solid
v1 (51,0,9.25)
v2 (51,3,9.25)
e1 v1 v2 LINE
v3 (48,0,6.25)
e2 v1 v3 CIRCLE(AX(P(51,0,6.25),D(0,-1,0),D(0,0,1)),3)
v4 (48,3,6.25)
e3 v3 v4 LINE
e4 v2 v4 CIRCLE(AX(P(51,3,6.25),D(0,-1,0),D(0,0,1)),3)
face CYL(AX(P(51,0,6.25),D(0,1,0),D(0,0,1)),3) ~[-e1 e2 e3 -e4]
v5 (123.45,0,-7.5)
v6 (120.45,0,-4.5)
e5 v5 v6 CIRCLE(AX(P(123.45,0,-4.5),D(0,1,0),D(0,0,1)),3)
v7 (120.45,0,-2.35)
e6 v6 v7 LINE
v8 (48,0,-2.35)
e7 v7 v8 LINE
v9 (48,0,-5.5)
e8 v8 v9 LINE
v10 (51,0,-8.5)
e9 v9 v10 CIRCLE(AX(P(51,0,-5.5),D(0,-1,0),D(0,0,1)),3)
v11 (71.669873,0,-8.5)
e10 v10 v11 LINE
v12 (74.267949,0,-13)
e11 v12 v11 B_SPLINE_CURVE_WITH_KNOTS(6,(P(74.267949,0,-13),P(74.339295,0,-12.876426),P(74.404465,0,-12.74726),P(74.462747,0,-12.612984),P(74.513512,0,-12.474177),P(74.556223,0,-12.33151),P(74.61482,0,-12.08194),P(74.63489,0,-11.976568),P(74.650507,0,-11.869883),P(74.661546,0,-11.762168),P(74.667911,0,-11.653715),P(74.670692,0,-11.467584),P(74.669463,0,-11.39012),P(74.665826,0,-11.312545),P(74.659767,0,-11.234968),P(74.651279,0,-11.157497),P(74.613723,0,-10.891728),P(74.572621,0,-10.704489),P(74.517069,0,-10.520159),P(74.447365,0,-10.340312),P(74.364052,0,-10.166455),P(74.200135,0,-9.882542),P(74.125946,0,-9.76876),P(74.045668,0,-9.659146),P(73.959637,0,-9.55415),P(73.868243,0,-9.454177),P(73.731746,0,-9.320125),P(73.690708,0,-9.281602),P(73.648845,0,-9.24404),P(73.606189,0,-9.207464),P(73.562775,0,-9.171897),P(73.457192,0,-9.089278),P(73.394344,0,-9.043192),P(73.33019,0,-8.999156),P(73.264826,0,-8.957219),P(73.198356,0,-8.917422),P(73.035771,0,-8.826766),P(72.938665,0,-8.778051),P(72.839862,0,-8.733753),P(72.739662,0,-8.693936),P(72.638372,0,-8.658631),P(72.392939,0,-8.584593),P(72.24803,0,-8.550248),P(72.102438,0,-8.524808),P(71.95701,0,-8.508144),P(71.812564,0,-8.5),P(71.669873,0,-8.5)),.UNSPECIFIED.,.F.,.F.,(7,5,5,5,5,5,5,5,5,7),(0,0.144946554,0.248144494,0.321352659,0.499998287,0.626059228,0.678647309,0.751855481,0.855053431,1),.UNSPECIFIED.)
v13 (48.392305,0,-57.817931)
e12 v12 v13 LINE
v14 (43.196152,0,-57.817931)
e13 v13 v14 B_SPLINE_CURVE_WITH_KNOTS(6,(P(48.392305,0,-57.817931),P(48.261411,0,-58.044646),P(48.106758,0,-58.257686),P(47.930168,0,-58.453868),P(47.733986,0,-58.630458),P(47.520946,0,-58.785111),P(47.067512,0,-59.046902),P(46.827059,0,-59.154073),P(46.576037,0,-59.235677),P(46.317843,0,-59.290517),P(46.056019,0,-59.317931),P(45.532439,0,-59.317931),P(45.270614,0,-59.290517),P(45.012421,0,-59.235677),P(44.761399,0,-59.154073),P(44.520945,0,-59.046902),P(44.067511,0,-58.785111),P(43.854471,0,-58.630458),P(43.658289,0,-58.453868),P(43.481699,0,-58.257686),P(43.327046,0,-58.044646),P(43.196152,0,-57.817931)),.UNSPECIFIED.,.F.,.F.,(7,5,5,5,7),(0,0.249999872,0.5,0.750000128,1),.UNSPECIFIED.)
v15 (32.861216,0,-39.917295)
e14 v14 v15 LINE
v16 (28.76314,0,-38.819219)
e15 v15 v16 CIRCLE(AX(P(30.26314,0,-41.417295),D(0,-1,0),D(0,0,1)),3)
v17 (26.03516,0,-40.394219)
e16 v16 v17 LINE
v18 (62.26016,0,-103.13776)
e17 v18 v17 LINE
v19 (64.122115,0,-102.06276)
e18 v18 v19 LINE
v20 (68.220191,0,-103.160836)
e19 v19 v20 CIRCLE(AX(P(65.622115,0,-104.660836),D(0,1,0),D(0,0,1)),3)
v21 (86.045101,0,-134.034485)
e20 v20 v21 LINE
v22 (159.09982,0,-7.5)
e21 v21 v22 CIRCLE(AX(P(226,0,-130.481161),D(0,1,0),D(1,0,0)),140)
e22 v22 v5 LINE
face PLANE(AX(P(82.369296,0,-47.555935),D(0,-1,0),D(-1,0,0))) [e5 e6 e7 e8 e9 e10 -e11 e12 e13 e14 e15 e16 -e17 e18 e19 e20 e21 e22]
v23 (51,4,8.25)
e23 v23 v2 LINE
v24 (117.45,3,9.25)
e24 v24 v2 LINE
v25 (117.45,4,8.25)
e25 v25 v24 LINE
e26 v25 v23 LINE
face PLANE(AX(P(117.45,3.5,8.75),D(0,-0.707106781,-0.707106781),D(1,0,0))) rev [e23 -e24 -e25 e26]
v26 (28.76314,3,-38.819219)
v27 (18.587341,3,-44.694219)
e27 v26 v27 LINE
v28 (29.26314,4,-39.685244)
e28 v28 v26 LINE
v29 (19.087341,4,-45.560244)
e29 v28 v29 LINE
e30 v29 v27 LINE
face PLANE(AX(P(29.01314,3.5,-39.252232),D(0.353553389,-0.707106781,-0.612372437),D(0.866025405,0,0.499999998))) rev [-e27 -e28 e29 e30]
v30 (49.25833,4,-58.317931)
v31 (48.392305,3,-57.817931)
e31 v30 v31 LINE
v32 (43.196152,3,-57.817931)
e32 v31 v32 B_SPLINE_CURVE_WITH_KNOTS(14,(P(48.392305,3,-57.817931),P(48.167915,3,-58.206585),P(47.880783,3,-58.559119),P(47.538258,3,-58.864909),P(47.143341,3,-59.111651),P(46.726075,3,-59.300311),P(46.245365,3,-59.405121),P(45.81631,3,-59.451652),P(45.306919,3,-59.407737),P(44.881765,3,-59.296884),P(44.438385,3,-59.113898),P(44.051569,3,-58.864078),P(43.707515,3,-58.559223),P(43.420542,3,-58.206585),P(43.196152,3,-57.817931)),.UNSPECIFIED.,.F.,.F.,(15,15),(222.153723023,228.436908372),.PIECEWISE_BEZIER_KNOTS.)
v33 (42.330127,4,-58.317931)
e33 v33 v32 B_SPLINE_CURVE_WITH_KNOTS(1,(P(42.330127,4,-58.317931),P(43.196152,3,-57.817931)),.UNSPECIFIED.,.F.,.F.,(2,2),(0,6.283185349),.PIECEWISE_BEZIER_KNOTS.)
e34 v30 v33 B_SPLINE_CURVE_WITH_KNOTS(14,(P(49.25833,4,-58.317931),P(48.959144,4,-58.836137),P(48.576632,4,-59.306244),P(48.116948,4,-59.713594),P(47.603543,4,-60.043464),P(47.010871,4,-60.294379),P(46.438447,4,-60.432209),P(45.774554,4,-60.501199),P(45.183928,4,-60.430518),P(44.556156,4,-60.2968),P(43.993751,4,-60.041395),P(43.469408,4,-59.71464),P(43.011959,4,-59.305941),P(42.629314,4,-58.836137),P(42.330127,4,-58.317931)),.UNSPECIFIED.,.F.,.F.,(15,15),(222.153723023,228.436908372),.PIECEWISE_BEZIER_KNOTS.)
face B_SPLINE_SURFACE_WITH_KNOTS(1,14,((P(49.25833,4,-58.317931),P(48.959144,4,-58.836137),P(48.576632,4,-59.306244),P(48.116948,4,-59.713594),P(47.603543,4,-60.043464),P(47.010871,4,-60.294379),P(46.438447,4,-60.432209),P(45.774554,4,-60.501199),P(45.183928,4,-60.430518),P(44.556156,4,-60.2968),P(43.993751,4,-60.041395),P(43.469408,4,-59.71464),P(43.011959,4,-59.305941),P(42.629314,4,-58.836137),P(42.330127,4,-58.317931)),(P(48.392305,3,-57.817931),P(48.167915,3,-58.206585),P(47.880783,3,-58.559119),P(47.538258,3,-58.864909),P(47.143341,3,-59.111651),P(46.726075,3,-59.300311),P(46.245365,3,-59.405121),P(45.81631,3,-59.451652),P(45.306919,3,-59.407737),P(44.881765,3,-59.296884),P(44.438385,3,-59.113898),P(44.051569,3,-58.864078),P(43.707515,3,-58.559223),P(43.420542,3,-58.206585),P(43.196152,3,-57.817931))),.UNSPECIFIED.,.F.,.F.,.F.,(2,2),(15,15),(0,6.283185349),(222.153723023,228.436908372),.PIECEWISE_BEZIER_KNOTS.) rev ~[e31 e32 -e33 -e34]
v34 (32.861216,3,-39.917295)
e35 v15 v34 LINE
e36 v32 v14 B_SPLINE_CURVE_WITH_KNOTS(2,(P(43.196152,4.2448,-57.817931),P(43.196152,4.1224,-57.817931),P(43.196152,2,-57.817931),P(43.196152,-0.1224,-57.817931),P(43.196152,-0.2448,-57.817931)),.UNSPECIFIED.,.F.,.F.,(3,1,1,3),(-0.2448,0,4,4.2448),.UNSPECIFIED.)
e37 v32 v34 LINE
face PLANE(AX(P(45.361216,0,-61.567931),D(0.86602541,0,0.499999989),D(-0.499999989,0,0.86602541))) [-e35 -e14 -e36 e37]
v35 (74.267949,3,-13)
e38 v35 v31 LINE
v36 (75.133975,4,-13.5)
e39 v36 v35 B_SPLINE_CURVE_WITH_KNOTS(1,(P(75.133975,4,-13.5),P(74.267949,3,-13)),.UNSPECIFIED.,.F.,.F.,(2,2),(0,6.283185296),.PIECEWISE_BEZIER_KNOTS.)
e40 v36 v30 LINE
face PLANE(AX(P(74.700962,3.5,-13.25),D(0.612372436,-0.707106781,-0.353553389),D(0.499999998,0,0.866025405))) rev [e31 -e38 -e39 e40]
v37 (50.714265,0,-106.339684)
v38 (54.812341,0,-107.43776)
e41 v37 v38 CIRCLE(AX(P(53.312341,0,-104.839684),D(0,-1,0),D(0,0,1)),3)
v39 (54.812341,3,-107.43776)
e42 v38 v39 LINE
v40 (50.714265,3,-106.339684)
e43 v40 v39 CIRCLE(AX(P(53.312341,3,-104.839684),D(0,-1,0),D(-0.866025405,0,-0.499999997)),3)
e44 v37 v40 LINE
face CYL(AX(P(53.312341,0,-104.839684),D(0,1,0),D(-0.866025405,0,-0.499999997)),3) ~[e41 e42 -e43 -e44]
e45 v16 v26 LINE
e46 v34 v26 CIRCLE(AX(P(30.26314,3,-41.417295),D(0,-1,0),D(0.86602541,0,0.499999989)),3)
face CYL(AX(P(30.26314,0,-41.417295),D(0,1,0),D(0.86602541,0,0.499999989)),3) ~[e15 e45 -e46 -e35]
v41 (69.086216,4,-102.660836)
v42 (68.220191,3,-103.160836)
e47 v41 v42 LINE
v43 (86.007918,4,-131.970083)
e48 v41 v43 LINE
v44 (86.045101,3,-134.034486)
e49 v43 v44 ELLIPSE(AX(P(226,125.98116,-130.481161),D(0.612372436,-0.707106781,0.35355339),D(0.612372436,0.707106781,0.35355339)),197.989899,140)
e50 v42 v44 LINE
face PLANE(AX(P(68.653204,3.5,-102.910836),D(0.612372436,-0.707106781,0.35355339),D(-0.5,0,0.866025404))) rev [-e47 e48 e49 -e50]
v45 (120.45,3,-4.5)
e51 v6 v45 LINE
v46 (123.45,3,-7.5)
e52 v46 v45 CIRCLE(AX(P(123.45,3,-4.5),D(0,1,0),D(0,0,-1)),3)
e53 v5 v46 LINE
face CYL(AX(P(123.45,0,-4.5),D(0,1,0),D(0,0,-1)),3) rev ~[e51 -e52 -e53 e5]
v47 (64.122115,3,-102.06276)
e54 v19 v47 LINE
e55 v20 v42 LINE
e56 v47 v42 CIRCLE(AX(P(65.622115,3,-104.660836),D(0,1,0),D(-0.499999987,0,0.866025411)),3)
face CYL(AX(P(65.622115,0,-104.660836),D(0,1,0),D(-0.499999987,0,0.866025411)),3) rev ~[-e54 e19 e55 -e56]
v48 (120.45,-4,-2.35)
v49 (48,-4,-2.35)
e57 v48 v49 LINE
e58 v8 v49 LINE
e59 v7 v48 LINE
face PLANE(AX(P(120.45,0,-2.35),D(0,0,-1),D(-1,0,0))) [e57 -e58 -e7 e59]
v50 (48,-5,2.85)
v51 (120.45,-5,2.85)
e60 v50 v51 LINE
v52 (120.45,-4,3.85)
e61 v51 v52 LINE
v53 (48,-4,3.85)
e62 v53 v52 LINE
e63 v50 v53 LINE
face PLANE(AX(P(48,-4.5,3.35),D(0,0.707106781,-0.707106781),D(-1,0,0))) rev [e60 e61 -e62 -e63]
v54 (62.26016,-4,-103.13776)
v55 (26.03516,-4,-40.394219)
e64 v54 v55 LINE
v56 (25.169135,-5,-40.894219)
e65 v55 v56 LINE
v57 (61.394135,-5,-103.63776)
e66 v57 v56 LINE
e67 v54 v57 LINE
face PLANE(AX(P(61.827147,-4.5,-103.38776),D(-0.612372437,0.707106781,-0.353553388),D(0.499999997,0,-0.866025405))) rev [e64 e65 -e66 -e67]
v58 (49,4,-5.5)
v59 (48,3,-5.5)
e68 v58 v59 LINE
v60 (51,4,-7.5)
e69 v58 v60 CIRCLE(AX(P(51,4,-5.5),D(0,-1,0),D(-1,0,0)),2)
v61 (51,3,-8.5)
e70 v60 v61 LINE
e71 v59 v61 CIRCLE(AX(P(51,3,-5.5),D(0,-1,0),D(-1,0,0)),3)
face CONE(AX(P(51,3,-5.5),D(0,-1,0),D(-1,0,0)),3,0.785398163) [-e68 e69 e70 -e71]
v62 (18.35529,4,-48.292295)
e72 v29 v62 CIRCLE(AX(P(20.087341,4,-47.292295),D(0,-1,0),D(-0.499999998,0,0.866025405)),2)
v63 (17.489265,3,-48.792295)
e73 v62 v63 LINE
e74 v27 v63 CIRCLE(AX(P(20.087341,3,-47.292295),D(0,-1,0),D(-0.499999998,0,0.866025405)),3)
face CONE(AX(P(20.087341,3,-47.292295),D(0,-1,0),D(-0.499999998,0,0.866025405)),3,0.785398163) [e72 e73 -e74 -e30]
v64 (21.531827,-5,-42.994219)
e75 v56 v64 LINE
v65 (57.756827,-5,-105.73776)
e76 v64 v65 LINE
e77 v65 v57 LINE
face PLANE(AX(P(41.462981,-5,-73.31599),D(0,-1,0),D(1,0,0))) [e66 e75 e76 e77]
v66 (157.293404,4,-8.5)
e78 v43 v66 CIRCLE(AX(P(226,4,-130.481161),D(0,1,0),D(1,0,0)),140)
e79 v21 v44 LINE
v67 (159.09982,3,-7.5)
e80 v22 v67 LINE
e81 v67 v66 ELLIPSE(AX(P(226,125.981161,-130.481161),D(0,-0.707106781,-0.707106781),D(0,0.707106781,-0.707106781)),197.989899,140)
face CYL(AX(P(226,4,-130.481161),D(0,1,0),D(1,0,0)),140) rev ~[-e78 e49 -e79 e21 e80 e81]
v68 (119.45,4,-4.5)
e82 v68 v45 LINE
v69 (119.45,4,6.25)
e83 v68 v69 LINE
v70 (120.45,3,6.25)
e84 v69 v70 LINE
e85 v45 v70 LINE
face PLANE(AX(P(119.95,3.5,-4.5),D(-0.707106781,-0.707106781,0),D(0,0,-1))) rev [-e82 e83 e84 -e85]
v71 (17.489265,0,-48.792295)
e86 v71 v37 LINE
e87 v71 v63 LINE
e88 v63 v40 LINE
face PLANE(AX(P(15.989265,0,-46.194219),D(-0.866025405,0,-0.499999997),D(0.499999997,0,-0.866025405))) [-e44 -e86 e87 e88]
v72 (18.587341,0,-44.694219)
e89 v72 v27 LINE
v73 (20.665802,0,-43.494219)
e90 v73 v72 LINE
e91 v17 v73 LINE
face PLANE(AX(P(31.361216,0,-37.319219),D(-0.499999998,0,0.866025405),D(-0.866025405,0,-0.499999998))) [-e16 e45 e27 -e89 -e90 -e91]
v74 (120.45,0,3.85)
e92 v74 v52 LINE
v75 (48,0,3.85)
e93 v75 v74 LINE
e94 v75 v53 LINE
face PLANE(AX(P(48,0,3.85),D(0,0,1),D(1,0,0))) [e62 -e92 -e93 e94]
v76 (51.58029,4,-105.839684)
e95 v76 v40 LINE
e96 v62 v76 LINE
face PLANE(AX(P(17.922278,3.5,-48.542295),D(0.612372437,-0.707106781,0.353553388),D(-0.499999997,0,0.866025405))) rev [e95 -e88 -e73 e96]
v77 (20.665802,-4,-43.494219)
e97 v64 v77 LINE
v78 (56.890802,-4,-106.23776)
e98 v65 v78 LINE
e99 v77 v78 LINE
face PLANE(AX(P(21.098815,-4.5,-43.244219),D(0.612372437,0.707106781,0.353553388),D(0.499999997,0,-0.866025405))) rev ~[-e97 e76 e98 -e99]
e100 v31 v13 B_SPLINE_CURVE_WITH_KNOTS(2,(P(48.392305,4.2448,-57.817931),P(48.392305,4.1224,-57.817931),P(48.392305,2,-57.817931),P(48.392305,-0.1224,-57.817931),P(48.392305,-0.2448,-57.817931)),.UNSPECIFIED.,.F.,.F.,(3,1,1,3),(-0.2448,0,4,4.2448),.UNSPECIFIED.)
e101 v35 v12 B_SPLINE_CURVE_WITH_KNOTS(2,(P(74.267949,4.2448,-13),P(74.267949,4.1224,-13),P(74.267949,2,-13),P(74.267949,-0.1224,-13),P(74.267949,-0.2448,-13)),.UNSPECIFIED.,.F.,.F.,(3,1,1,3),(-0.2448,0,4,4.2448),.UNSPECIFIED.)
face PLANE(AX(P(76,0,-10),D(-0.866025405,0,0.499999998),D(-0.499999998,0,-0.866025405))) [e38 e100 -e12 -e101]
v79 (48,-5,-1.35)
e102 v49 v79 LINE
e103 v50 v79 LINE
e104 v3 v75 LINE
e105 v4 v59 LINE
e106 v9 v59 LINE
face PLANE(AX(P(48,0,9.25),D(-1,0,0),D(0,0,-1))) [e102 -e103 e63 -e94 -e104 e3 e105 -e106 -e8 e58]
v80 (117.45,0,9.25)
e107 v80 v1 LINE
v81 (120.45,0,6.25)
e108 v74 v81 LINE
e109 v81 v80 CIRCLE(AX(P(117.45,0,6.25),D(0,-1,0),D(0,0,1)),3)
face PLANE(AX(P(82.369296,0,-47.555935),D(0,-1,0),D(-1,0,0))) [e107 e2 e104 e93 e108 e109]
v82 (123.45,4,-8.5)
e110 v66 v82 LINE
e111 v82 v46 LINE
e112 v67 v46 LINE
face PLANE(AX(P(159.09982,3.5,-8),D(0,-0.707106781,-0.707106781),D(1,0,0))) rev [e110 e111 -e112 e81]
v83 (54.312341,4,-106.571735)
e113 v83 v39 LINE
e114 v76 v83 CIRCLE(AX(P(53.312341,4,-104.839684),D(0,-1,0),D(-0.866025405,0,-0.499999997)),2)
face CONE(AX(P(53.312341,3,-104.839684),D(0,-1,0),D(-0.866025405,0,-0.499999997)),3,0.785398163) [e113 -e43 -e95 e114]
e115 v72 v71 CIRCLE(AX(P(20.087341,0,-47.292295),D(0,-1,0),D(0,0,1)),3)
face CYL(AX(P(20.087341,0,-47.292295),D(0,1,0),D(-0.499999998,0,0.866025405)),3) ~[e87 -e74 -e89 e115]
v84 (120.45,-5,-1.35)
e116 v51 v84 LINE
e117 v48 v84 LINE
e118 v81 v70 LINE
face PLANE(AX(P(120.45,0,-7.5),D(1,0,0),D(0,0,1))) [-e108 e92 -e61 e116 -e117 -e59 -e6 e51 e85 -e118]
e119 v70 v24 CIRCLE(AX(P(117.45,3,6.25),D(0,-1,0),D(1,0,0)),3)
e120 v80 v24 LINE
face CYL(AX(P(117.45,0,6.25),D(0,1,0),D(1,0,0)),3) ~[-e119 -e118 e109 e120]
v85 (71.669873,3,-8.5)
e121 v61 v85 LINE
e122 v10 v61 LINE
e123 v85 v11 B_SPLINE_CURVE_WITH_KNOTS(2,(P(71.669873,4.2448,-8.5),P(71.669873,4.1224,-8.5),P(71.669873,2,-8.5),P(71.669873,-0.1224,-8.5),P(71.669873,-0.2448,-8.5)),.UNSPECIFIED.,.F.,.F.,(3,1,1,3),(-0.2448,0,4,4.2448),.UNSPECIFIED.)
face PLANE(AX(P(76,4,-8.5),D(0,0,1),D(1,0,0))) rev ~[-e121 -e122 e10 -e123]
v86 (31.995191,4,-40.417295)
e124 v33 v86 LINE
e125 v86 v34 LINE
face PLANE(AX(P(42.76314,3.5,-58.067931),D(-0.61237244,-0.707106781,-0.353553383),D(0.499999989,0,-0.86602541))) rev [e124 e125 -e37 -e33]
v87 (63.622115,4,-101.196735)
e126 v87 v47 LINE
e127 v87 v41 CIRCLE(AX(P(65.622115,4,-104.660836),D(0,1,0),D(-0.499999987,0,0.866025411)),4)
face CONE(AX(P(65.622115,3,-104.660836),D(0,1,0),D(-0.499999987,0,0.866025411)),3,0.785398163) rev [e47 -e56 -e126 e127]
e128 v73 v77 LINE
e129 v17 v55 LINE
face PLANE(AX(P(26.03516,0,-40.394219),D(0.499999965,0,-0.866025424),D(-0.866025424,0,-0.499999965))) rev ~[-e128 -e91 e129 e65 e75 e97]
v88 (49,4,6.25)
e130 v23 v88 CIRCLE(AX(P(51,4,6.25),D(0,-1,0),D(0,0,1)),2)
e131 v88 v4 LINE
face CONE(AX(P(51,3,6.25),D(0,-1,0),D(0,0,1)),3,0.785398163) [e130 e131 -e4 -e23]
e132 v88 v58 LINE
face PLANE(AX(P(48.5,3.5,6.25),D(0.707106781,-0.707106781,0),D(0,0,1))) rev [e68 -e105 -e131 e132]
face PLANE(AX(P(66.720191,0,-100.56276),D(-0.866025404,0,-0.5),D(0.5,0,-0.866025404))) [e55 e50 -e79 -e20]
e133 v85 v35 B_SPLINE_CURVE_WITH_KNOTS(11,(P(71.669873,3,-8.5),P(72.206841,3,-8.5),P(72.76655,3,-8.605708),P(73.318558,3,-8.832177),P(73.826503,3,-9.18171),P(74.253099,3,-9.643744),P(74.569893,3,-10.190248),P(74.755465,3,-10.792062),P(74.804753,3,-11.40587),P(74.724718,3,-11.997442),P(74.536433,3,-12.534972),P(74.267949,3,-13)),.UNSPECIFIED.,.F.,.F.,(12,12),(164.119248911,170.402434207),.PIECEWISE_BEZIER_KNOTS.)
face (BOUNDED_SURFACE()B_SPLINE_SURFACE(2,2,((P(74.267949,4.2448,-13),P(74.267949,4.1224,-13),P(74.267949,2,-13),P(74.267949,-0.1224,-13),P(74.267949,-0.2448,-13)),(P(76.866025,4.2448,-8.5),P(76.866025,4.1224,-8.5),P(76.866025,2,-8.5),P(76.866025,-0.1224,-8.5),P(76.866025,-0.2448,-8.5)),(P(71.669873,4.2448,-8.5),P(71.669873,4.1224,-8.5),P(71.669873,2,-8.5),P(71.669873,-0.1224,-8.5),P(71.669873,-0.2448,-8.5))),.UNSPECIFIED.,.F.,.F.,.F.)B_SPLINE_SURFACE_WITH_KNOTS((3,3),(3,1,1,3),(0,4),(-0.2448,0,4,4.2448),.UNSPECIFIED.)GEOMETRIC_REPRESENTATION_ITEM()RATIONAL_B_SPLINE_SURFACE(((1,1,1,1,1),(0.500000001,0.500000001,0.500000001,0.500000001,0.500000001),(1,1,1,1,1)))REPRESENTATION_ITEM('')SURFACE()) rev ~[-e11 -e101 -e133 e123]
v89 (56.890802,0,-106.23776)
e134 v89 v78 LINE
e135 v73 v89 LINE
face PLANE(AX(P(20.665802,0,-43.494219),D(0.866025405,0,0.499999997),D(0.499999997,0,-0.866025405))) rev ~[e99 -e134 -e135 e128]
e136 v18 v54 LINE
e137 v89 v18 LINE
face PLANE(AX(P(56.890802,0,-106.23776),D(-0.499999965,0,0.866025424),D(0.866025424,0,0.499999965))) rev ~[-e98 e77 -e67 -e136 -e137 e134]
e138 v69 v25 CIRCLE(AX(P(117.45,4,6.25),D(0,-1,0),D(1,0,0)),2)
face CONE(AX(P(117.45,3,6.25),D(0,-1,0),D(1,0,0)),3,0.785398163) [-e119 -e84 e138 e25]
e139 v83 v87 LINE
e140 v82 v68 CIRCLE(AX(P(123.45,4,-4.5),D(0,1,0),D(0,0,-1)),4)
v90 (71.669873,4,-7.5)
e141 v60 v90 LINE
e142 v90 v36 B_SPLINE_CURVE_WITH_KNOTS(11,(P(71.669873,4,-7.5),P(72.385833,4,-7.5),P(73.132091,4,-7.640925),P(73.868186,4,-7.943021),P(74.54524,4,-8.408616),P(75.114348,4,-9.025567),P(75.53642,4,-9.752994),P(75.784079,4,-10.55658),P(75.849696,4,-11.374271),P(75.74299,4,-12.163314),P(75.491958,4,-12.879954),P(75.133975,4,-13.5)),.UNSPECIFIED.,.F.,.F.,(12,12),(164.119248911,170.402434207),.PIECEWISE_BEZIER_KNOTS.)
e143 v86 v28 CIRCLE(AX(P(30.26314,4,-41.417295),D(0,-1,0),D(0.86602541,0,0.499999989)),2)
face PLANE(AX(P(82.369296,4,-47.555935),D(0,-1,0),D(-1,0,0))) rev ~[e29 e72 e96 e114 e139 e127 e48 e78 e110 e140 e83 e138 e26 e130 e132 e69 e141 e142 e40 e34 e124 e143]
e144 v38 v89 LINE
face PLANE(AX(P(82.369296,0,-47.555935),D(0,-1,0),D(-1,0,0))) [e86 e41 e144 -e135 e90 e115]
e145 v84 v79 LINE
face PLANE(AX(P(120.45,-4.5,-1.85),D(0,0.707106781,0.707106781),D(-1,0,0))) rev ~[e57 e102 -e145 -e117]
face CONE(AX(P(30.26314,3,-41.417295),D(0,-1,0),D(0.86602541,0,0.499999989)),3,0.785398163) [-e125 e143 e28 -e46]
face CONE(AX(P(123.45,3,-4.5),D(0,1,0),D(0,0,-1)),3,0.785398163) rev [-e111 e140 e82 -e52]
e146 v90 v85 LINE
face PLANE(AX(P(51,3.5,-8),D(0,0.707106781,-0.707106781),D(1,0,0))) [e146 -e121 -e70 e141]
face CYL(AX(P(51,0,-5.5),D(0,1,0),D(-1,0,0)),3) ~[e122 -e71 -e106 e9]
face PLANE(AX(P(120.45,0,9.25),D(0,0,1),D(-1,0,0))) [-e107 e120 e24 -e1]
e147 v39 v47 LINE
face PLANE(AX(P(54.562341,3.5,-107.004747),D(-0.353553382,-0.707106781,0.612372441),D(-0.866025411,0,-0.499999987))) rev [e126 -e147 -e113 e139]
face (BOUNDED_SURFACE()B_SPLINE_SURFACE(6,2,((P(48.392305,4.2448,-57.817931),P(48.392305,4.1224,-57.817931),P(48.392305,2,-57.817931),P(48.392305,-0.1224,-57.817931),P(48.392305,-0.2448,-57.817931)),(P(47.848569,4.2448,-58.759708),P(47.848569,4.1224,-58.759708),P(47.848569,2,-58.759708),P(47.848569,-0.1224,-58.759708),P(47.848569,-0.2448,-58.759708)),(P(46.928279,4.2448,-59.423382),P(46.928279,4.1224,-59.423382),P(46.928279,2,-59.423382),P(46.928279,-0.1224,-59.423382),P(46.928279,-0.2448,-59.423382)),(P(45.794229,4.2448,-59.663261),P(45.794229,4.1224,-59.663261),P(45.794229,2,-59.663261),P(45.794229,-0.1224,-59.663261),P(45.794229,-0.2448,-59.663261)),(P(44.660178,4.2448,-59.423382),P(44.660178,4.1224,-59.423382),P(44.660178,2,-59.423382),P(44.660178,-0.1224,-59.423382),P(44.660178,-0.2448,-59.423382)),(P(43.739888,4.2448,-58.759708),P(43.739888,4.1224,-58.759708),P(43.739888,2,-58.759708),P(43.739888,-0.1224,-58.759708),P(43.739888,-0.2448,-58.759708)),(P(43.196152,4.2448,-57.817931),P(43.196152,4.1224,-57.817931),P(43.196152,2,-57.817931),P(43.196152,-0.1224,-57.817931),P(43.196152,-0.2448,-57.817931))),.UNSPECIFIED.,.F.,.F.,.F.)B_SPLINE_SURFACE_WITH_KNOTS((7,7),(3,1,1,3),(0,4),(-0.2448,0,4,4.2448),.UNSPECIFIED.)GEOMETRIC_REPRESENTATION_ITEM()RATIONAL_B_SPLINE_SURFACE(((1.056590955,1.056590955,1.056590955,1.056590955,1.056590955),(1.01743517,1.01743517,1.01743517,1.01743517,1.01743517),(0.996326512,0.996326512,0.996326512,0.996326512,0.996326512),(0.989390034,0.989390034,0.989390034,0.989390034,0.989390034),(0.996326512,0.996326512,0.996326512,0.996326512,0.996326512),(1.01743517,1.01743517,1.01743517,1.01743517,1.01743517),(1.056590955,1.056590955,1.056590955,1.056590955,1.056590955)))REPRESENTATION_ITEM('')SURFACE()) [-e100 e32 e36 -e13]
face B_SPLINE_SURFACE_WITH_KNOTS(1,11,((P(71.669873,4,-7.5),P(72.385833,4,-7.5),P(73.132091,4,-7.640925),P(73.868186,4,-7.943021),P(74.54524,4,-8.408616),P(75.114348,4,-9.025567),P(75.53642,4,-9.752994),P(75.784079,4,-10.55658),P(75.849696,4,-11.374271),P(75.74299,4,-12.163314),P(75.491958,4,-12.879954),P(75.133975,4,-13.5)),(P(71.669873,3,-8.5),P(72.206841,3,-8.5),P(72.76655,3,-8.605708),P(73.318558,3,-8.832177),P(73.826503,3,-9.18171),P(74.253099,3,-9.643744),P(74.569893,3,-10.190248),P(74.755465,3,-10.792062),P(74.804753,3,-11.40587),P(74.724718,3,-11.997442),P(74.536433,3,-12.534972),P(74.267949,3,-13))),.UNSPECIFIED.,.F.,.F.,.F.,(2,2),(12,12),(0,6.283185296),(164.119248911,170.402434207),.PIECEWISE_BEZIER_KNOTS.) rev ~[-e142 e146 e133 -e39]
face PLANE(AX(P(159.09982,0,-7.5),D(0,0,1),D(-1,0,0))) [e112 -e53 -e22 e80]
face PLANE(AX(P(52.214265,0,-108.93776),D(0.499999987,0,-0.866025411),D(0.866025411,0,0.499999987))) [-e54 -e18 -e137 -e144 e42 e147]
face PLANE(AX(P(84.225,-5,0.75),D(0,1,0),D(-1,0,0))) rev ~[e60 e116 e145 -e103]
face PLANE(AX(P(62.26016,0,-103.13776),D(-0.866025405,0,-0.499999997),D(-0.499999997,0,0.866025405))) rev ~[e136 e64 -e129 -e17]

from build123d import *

# Parameters (mm, degrees)
BOSS_EXTRUDE1_DEPTH = 4
FILLET1_R           = 3
CUT_EXTRUDE1_DEPTH  = 5
FILLET4_R           = 3
CHAMFER1_SIZE       = 1
SKETCH3_R           = 140
CUT_EXTRUDE2_DEPTH  = 5
BOSS_EXTRUDE2_DEPTH = 5
CHAMFER2_SIZE       = 1


with BuildPart() as part:
    # Sketch1 → Boss-Extrude1 (new body)
    with BuildSketch(Plane(origin=(0, 0, 0), x_dir=(1, 0, 0), z_dir=(0, 1, 0))):
        Polygon((76, 10), (46.660254, 60.817931), (45.361216, 61.567931), (31.361216, 37.319219), (15.989265, 46.194219), (52.214265, 108.93776), (66.720191, 100.56276), (86.045101, 134.034486), (159.09982, 7.5), (120.45, 7.5), (120.45, -9.25), (48, -9.25), (48, 8.5), (76, 8.5), align=None)
    extrude(amount=BOSS_EXTRUDE1_DEPTH)

    # Fillet1
    fillet1_edges = [part.edges().sort_by_distance(p)[0] for p in [
        (48, 2, 9.25),
        (48, 2, -8.5),
        (31.361216, 2, -37.319219),
        (15.989265, 2, -46.194219),
        (52.214265, 2, -108.93776),
        (66.720191, 2, -100.56276),
        (120.45, 2, -7.5),
        (120.45, 2, 9.25),
    ]]
    fillet(fillet1_edges, radius=FILLET1_R)

    # Sketch2 → Cut-Extrude1 (cut, through all)
    with BuildSketch(Plane(origin=(0, 4, 0), x_dir=(1, 0, 0), z_dir=(0, 1, 0))):
        Polygon((46.660254, 60.817931), (45.794229, 62.317931), (45.361216, 61.567931), align=None)
        Polygon((76, 8.5), (76.866025, 8.5), (76, 10), align=None)
    extrude(amount=-CUT_EXTRUDE1_DEPTH, mode=Mode.SUBTRACT)

    # Fillet4
    fillet4_edges = [part.edges().sort_by_distance(p)[0] for p in [
        (45.794229, 2, -62.317931),
        (76.866025, 2, -8.5),
    ]]
    fillet(fillet4_edges, radius=FILLET4_R)

    # Chamfer1
    chamfer1_edges = [part.edges().sort_by_distance(p)[0] for p in [
        (61.330127, 4, -35.408965),
        (74.267949, 4, -10),
        (45.794229, 4, -59.317931),
        (23.67524, 4, -41.756719),
        (84.225, 4, 9.25),
        (120.45, 4, 0.875),
        (59.467228, 4, -104.75026),
        (34.101765, 4, -77.56599),
        (48, 4, 0.375),
        (119.57132, 4, 8.37132),
        (48.87868, 4, 8.37132),
        (48.87868, 4, -7.62132),
        (17.189564, 4, -46.515838),
        (52.535884, 4, -107.737461),
        (31.039597, 4, -38.519518),
        (66.398571, 4, -101.763059),
        (121.32868, 4, -6.62132),
    ]]
    chamfer(chamfer1_edges, length=CHAMFER1_SIZE)

    # Sketch3 → Cut-Extrude2 (cut, through all)
    with BuildSketch(Plane(origin=(0, 4, 0), x_dir=(1, 0, 0), z_dir=(0, 1, 0))):
        with Locations((226, 130.481161)):
            Circle(SKETCH3_R)
    extrude(amount=-CUT_EXTRUDE2_DEPTH, mode=Mode.SUBTRACT)

    # Sketch4 → Boss-Extrude2 (add)
    with BuildSketch(Plane.XZ):
        Polygon((20.665802, -43.494219), (56.890802, -106.23776), (62.26016, -103.13776), (26.03516, -40.394219), (23.350481, -41.944219), align=None)
        Polygon((48, 0.75), (48, 3.85), (120.45, 3.85), (120.45, -2.35), (48, -2.35), align=None)
    extrude(amount=BOSS_EXTRUDE2_DEPTH)

    # Chamfer2
    chamfer2_edges = [part.edges().sort_by_distance(p)[0] for p in [
        (84.225, -5, -2.35),
        (84.225, -5, 3.85),
        (38.778302, -5, -74.86599),
        (44.14766, -5, -71.76599),
    ]]
    chamfer(chamfer2_edges, length=CHAMFER2_SIZE)


solid = part.part
